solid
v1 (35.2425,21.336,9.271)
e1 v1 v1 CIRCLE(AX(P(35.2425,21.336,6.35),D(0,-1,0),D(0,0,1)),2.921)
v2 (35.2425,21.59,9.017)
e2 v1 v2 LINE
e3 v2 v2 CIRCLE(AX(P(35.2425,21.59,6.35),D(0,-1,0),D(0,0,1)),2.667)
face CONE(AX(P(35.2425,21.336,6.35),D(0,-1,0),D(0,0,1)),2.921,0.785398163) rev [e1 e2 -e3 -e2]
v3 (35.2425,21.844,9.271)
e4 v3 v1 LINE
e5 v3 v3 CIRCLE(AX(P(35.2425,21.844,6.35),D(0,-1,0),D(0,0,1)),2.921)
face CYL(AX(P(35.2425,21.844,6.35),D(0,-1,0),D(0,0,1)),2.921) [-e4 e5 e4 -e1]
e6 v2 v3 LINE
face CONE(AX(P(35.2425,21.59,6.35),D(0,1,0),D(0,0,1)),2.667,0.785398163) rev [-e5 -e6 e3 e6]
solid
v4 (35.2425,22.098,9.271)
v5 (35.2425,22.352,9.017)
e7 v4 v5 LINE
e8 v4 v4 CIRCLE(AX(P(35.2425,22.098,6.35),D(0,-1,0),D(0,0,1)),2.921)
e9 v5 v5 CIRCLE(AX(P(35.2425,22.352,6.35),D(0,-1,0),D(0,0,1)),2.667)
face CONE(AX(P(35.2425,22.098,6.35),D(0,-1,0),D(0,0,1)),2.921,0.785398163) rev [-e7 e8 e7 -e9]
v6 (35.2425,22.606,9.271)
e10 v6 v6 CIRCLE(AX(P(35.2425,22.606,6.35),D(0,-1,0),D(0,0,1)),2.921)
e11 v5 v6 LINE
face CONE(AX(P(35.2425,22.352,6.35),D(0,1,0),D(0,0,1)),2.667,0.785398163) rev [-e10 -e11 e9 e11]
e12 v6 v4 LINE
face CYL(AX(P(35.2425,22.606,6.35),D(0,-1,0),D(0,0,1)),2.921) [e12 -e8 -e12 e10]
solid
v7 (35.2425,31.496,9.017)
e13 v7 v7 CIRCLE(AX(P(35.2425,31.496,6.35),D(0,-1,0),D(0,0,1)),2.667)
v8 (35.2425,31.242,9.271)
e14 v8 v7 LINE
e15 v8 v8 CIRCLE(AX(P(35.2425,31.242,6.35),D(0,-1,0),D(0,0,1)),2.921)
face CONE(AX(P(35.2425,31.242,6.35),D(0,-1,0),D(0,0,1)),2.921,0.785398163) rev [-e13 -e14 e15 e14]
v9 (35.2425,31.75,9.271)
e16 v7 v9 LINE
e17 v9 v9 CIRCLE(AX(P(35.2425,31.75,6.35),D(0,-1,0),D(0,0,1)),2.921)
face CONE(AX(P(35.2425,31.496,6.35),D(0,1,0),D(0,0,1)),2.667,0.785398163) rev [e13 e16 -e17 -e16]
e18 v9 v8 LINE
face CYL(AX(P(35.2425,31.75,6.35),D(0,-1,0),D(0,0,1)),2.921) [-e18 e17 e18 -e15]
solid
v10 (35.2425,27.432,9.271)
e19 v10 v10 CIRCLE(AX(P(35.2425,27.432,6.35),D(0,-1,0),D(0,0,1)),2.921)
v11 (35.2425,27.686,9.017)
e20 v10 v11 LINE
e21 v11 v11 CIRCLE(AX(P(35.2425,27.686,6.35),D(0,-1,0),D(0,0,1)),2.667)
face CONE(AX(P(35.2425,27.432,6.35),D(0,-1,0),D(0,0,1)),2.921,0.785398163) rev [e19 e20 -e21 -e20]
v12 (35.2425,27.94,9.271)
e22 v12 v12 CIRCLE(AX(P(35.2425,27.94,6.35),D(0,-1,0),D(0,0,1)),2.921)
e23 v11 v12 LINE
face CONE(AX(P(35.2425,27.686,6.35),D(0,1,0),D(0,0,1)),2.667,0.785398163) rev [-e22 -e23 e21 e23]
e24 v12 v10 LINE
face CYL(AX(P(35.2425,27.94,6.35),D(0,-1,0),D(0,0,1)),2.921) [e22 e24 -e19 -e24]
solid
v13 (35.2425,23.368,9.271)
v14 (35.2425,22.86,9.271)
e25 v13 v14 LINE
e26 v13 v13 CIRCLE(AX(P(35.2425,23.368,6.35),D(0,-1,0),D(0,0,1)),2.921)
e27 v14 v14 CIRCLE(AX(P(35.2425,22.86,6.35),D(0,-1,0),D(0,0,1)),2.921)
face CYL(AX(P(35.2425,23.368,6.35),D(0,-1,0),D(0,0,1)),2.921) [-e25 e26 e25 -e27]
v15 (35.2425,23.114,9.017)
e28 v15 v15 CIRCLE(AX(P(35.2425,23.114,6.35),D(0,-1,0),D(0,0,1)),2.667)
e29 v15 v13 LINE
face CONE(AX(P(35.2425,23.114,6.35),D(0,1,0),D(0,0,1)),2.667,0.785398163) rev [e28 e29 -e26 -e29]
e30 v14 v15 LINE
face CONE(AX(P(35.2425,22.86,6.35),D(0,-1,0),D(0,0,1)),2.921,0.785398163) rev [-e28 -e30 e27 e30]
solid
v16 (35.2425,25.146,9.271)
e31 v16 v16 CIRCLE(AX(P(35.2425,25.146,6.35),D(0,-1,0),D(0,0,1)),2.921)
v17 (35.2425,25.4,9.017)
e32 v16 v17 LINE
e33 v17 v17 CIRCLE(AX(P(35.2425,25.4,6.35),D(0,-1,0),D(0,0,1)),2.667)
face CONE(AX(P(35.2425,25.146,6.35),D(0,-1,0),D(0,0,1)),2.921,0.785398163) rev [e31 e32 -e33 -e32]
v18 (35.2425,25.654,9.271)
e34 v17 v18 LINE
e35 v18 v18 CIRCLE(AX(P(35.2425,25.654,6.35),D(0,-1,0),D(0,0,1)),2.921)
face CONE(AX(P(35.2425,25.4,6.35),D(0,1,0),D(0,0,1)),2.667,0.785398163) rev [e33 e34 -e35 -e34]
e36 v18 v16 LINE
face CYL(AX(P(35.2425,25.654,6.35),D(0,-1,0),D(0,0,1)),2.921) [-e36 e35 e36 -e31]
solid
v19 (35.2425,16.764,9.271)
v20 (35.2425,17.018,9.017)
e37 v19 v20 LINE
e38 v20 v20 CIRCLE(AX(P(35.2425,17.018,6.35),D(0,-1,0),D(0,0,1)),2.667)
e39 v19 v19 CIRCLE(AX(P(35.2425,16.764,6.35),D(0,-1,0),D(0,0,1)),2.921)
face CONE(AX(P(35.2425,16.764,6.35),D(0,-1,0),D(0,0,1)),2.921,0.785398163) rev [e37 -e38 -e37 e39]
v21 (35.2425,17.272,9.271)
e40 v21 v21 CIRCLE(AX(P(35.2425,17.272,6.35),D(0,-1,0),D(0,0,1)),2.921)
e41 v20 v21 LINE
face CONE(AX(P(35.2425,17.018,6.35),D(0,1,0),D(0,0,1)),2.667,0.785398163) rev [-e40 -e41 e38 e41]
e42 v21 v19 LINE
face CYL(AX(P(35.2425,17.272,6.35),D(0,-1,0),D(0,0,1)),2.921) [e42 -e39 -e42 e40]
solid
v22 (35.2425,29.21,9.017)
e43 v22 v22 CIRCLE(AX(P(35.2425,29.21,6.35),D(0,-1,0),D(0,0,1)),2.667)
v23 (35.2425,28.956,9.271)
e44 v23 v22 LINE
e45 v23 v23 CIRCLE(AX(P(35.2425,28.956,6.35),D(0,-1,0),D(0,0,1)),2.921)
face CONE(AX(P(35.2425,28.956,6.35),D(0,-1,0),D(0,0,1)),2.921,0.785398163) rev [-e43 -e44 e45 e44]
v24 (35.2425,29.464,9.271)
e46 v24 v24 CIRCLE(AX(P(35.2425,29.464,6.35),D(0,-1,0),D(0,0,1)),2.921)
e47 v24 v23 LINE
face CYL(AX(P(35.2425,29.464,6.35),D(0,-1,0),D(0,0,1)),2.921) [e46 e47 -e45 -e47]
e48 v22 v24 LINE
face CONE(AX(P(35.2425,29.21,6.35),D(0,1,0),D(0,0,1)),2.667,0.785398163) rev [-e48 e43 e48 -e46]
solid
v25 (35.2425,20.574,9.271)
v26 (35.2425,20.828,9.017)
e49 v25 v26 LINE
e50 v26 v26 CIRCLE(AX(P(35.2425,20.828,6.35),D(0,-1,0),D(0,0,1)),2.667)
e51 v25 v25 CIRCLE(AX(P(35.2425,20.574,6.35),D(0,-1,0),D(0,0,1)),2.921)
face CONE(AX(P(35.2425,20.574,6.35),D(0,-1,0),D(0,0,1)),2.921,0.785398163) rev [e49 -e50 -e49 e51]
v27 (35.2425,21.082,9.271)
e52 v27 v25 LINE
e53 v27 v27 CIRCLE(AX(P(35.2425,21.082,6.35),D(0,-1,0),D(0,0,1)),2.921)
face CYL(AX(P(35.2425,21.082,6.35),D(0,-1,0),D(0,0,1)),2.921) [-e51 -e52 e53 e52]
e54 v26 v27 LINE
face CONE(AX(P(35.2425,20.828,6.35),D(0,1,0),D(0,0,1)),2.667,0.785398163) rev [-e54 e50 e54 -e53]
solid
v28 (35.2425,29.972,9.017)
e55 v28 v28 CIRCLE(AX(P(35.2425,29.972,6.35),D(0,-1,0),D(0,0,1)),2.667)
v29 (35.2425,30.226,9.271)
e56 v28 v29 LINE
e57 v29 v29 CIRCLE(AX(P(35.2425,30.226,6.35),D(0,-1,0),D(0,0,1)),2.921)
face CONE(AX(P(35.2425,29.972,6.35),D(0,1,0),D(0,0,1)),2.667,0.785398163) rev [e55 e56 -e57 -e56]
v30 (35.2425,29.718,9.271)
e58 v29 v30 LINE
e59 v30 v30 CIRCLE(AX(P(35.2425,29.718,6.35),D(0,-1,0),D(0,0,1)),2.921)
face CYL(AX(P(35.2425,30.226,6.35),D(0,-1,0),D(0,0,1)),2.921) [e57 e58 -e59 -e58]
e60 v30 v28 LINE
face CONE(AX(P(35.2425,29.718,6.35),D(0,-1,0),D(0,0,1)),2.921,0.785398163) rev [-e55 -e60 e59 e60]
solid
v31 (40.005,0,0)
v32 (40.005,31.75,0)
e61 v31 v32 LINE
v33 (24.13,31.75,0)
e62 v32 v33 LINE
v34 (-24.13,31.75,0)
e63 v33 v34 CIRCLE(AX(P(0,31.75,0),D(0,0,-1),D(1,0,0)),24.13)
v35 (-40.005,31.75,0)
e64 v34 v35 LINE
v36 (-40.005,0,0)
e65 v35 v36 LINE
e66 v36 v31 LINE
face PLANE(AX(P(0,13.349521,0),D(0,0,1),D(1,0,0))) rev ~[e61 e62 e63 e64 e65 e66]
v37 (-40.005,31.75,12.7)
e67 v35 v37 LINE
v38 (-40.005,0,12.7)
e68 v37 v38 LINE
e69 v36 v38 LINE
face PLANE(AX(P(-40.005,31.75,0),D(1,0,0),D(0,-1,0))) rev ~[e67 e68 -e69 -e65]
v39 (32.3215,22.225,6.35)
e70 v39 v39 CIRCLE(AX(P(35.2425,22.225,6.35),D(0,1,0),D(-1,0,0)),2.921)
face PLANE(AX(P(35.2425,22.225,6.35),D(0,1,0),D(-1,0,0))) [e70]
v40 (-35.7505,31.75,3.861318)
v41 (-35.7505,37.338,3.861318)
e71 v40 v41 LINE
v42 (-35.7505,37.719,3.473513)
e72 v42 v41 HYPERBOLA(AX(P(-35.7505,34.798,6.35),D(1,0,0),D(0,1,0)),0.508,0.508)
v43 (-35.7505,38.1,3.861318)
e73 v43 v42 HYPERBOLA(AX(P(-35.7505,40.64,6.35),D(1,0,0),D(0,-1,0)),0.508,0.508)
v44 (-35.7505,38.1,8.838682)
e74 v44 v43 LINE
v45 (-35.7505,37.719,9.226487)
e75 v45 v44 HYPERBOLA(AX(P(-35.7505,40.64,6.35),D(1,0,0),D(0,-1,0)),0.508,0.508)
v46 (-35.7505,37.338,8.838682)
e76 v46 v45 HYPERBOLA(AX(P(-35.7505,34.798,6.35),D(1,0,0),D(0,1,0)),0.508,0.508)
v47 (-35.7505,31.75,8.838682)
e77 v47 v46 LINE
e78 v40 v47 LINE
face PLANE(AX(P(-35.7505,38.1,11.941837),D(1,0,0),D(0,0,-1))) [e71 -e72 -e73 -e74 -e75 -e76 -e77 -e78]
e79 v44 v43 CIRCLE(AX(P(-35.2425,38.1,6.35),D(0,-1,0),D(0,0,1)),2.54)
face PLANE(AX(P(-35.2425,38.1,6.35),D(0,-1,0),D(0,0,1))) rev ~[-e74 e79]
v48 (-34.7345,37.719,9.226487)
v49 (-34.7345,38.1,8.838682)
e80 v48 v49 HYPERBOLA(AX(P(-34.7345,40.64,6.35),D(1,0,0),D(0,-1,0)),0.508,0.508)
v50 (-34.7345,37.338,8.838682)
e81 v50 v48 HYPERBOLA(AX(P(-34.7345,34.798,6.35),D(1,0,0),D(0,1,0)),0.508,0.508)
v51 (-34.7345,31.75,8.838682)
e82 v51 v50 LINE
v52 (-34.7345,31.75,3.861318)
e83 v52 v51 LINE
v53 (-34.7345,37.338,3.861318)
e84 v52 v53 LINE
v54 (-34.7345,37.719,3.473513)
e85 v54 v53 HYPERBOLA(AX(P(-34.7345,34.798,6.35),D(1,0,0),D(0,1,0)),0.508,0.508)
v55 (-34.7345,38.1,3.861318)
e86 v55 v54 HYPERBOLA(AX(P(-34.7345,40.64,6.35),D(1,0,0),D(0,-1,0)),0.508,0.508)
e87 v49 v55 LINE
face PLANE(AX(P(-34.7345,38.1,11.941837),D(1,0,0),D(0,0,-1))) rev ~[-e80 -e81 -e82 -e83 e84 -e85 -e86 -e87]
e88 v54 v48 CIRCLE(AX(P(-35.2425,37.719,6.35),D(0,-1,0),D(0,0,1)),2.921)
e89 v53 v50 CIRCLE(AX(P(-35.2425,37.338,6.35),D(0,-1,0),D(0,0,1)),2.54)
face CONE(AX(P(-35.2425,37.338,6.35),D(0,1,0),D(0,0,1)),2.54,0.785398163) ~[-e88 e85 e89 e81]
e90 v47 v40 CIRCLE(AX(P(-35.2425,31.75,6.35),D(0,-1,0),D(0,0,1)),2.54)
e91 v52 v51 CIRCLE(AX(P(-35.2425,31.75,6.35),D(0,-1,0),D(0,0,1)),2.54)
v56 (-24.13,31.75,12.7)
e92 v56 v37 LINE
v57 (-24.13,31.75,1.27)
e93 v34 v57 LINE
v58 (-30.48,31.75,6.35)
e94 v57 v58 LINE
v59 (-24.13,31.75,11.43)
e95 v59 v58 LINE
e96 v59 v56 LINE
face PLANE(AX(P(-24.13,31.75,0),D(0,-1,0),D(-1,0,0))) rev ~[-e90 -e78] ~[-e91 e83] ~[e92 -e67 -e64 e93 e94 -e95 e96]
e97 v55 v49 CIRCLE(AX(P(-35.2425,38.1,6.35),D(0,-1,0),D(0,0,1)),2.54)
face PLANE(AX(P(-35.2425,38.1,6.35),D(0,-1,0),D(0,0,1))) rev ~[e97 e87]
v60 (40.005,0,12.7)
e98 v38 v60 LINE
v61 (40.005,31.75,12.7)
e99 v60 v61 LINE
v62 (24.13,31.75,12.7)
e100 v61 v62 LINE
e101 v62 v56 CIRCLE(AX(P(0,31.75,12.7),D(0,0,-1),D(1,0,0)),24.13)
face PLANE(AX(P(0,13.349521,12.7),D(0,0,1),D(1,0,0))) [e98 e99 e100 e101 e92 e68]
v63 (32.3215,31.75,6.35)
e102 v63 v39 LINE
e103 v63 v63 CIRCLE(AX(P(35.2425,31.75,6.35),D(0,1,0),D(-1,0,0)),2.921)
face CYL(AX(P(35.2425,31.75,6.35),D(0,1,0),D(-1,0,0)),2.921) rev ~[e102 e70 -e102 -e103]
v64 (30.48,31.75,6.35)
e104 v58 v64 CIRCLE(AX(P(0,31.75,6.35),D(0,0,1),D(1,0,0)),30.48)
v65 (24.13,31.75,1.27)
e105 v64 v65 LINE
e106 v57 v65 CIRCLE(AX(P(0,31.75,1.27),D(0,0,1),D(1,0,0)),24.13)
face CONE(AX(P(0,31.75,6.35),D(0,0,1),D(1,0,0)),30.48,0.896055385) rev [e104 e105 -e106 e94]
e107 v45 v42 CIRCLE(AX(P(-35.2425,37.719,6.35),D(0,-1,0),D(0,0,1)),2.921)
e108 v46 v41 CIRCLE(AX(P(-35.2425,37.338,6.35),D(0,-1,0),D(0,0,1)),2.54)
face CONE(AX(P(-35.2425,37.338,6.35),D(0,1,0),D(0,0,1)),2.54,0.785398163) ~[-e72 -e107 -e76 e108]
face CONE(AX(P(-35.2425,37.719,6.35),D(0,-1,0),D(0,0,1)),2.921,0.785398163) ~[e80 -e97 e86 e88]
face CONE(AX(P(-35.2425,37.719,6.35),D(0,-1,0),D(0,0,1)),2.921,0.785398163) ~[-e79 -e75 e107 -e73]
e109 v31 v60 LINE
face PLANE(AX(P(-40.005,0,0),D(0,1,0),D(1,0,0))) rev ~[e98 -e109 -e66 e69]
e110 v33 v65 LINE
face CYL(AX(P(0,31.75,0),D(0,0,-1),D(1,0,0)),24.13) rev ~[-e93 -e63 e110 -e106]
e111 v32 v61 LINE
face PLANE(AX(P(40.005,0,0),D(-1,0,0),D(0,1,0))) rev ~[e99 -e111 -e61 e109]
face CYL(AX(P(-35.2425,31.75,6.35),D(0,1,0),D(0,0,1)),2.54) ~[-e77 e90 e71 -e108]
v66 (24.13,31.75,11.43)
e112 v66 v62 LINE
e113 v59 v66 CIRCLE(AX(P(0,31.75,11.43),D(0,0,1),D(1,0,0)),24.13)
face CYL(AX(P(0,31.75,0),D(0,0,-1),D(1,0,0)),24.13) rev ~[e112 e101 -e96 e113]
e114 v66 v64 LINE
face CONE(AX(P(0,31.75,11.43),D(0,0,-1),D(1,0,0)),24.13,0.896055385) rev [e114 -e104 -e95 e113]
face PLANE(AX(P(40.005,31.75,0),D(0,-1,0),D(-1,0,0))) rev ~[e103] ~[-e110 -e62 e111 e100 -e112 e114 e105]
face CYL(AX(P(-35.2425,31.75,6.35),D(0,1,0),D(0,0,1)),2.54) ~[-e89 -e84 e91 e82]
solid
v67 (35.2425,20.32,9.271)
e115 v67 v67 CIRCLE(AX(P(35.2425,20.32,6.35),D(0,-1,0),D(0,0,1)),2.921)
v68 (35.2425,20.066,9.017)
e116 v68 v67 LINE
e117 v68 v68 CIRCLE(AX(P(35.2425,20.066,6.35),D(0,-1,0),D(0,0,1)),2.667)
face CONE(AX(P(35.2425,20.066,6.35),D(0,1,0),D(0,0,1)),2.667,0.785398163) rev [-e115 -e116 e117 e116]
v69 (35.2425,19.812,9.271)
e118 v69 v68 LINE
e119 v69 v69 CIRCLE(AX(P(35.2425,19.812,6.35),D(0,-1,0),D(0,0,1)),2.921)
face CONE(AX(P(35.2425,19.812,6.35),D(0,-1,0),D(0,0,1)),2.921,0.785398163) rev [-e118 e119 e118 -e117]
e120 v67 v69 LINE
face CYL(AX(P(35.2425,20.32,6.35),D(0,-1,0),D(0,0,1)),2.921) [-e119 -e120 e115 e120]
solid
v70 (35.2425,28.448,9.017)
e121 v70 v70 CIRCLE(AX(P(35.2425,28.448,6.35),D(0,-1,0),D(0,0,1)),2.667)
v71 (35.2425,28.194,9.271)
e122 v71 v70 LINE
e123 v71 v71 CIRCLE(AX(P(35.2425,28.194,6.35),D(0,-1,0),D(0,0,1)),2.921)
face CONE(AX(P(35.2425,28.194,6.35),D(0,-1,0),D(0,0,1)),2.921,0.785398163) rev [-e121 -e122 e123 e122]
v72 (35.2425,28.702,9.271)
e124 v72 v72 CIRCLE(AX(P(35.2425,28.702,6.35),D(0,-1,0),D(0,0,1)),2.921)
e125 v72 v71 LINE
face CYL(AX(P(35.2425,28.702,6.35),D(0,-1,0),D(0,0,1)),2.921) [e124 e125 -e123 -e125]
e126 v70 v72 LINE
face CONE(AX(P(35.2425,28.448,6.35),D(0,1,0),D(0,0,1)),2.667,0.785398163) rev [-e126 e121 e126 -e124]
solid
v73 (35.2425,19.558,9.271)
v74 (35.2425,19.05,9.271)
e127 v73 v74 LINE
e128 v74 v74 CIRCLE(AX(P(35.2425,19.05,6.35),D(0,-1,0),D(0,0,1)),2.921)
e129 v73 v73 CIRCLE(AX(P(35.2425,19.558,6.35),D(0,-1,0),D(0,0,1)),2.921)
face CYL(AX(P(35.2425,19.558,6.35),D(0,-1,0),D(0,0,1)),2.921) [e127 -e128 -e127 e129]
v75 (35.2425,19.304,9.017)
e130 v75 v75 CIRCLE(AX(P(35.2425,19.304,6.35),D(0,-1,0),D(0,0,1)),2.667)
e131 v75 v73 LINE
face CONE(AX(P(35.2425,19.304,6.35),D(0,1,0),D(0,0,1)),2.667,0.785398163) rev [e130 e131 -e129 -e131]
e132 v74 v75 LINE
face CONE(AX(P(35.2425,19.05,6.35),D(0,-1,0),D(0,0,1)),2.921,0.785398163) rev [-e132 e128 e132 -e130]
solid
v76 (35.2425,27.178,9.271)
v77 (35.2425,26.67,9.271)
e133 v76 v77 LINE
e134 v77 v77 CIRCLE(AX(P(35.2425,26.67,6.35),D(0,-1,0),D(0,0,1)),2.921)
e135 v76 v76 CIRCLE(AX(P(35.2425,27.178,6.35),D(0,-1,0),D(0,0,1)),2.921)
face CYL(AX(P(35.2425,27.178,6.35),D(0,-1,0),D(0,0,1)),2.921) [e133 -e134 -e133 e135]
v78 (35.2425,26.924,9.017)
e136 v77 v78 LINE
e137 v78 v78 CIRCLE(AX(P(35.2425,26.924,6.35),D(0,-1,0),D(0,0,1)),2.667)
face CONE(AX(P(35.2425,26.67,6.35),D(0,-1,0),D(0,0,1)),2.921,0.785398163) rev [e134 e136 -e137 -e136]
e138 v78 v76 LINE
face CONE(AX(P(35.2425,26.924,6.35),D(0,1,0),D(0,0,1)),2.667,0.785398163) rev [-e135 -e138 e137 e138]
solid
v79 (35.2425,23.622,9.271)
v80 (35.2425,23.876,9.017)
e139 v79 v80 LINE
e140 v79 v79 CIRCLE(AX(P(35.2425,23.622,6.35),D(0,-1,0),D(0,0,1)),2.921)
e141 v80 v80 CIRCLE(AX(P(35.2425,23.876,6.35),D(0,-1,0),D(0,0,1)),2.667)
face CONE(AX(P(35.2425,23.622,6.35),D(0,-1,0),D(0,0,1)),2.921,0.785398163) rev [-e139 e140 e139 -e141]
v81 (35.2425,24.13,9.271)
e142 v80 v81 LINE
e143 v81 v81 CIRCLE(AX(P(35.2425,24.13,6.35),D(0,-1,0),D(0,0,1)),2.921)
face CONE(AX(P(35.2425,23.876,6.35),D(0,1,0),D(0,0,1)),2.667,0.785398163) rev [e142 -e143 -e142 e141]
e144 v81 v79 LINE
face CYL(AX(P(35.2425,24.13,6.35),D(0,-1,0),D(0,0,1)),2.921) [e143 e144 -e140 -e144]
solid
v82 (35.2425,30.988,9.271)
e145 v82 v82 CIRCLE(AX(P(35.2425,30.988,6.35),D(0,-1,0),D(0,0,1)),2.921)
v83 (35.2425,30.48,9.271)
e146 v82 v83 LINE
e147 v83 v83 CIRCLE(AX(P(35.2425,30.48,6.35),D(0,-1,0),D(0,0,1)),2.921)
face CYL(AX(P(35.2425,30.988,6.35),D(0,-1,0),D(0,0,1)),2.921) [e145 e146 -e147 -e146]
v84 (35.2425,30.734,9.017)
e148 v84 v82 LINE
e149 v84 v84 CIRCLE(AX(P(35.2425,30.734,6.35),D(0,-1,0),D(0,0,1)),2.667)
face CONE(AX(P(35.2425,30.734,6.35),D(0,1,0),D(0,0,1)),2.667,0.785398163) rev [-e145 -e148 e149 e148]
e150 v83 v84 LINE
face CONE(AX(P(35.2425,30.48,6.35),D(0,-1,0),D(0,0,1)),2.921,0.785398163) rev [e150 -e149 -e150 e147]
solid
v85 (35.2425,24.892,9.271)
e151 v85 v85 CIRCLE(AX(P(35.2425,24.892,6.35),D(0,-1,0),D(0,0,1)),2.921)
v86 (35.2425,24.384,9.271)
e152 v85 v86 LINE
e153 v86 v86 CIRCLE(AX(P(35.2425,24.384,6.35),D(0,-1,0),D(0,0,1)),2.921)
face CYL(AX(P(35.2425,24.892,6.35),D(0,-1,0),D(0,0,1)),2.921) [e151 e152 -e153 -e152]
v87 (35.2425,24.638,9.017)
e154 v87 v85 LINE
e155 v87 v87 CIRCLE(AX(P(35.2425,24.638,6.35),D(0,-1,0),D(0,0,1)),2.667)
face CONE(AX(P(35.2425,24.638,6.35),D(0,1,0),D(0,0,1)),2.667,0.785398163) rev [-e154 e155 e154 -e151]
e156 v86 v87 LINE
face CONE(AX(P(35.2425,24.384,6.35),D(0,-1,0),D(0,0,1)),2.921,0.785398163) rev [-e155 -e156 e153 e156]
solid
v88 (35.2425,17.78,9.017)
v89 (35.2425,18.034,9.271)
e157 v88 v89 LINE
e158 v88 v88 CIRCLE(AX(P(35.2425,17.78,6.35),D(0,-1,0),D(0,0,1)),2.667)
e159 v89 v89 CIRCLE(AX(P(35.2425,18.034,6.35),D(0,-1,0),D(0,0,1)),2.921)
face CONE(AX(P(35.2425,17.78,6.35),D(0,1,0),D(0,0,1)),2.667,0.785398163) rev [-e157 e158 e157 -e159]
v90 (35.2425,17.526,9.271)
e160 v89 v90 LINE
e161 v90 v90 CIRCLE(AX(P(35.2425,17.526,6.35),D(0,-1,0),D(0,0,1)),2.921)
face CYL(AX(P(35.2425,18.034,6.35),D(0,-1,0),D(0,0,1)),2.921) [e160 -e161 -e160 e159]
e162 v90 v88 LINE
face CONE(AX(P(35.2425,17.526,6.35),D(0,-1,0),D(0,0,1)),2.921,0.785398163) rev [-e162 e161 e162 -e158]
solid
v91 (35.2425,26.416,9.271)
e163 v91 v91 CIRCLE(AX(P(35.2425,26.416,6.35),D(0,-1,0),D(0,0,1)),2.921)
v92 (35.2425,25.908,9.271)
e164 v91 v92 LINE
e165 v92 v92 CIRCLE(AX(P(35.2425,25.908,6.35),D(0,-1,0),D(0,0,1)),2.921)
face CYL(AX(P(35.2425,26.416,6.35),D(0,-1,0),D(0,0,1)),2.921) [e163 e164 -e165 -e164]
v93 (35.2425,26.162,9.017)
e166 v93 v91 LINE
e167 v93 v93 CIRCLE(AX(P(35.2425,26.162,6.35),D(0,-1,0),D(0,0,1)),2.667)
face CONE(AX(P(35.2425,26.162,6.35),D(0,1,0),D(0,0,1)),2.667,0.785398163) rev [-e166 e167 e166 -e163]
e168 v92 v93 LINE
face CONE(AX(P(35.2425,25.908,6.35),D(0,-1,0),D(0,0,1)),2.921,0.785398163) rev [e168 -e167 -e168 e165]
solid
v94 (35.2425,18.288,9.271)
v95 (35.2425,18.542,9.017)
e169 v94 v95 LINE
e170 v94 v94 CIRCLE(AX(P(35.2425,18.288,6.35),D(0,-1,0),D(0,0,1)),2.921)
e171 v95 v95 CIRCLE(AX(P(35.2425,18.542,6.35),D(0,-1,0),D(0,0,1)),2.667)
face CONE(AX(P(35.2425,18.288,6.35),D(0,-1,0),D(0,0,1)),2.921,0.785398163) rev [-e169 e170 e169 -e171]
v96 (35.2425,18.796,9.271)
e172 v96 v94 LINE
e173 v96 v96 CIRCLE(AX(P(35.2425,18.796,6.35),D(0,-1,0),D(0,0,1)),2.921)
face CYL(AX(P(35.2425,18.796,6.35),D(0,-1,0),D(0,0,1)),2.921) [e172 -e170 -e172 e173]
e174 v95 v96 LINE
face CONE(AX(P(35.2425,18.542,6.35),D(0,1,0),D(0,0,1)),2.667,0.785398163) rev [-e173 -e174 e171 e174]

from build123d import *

# Parameters (mm, degrees)
BOSS_EXTRUDE1_DEPTH = 12.7
SKETCH6_R           = 2.921
CUT_EXTRUDE2_DEPTH  = 9.525
CUT_EXTRUDE3_REACH  = 58.686
SKETCH16_W          = 1.016
SKETCH16_H          = 11.1836739


with BuildPart() as part:
    # Sketch1 → Boss-Extrude1 (new body)
    with BuildSketch(Plane.XY):
        with BuildLine():
            Line((-40.005, 0), (40.005, 0))
            Line((40.005, 0), (40.005, 31.75))
            Line((40.005, 31.75), (24.13, 31.75))
            ThreePointArc((24.13, 31.75), (0, 7.62), (-24.13, 31.75))
            Line((-24.13, 31.75), (-40.005, 31.75))
            Line((-40.005, 31.75), (-40.005, 0))
        make_face()
    extrude(amount=BOSS_EXTRUDE1_DEPTH)

    # Sketch2 → Cut-Revolve1 (revolve, cut)
    with BuildSketch(Plane(origin=(0, 31.75, 0), x_dir=(1, 0, 0), z_dir=(0, 1, 0))):
        Polygon((24.13, -11.43), (30.48, -6.35), (24.13, -1.27), align=None)
    revolve(axis=Axis((0, 31.75, 0), (0, 0, 1)), mode=Mode.SUBTRACT)

    # Sketch6 → Cut-Extrude2 (cut)
    with BuildSketch(Plane(origin=(0, 31.75, 0), x_dir=(1, 0, 0), z_dir=(0, 1, 0))):
        with Locations(Location((35.2425, -6.35, 0), (0, 0, 180))):
            Circle(SKETCH6_R)
    extrude(amount=-CUT_EXTRUDE2_DEPTH, mode=Mode.SUBTRACT)

    # Sketch15 → Revolve2 (revolve)
    with BuildSketch(Plane.XY.offset(6.35), mode=Mode.PRIVATE) as revolve2_sk:
        Polygon((-37.7825, 31.75), (-37.7825, 37.338), (-38.1635, 37.719), (-37.7825, 38.1), (-35.2425, 38.1), (-35.2425, 31.75), align=None)
    revolve(revolve2_sk.sketch.rotate(Axis((-35.2425, 38.1, 6.35), (0, -1, 0)), 270), axis=Axis((-35.2425, 38.1, 6.35), (0, -1, 0)))

    # Cut-Extrude3: up to this face of the body (flat: up to its plane)
    cut_extrude3_end = Plane(part.part.faces().sort_by_distance((-32.0675, 31.75, 0.203299195))[0])
    # Sketch16 → Cut-Extrude3 (cut, up to the picked face)
    with BuildSketch(Plane(origin=(0, 38.1, 0), x_dir=(1, 0, 0), z_dir=(0, 1, 0)), mode=Mode.PRIVATE) as cut_extrude3_sk1:
        with Locations((-35.2425, -6.35)):
            Rectangle(SKETCH16_W, SKETCH16_H)
    cut_extrude3_tool1 = split(extrude(cut_extrude3_sk1.sketch, amount=-CUT_EXTRUDE3_REACH, mode=Mode.PRIVATE), bisect_by=cut_extrude3_end, keep=Keep.BOTH, mode=Mode.PRIVATE)
    add(cut_extrude3_tool1.solids().sort_by(Axis((-35.2425, 38.1, 6.35), (0, -1, 0)))[0], mode=Mode.SUBTRACT)


with BuildPart() as body_2:
    # Sketch12 → Revolve1 (revolve)
    with BuildSketch(Plane.XY.offset(6.35), mode=Mode.PRIVATE) as revolve1_sk:
        Polygon((32.3215, 30.48), (32.5755, 30.734), (32.3215, 30.988), align=None)
        Polygon((32.3215, 31.242), (32.5755, 31.496), (32.3215, 31.75), align=None)
        Polygon((32.3215, 29.718), (32.5755, 29.972), (32.3215, 30.226), align=None)
        Polygon((32.3215, 28.956), (32.5755, 29.21), (32.3215, 29.464), align=None)
        Polygon((32.3215, 28.194), (32.5755, 28.448), (32.3215, 28.702), align=None)
        Polygon((32.3215, 27.432), (32.5755, 27.686), (32.3215, 27.94), align=None)
        Polygon((32.3215, 26.67), (32.5755, 26.924), (32.3215, 27.178), align=None)
        Polygon((32.3215, 25.908), (32.5755, 26.162), (32.3215, 26.416), align=None)
        Polygon((32.3215, 25.146), (32.5755, 25.4), (32.3215, 25.654), align=None)
        Polygon((32.3215, 24.384), (32.5755, 24.638), (32.3215, 24.892), align=None)
        Polygon((32.3215, 23.622), (32.5755, 23.876), (32.3215, 24.13), align=None)
        Polygon((32.3215, 22.86), (32.5755, 23.114), (32.3215, 23.368), align=None)
        Polygon((32.3215, 22.098), (32.5755, 22.352), (32.3215, 22.606), align=None)
        Polygon((32.3215, 21.336), (32.5755, 21.59), (32.3215, 21.844), align=None)
        Polygon((32.3215, 20.574), (32.5755, 20.828), (32.3215, 21.082), align=None)
        Polygon((32.3215, 19.812), (32.5755, 20.066), (32.3215, 20.32), align=None)
        Polygon((32.3215, 19.05), (32.5755, 19.304), (32.3215, 19.558), align=None)
        Polygon((32.3215, 18.288), (32.5755, 18.542), (32.3215, 18.796), align=None)
        Polygon((32.3215, 17.526), (32.5755, 17.78), (32.3215, 18.034), align=None)
        Polygon((32.3215, 16.764), (32.5755, 17.018), (32.3215, 17.272), align=None)
    revolve(revolve1_sk.sketch.rotate(Axis((35.2425, 31.75, 6.35), (0, -1, 0)), 270), axis=Axis((35.2425, 31.75, 6.35), (0, -1, 0)))


solid = Compound([part.part, body_2.part])
